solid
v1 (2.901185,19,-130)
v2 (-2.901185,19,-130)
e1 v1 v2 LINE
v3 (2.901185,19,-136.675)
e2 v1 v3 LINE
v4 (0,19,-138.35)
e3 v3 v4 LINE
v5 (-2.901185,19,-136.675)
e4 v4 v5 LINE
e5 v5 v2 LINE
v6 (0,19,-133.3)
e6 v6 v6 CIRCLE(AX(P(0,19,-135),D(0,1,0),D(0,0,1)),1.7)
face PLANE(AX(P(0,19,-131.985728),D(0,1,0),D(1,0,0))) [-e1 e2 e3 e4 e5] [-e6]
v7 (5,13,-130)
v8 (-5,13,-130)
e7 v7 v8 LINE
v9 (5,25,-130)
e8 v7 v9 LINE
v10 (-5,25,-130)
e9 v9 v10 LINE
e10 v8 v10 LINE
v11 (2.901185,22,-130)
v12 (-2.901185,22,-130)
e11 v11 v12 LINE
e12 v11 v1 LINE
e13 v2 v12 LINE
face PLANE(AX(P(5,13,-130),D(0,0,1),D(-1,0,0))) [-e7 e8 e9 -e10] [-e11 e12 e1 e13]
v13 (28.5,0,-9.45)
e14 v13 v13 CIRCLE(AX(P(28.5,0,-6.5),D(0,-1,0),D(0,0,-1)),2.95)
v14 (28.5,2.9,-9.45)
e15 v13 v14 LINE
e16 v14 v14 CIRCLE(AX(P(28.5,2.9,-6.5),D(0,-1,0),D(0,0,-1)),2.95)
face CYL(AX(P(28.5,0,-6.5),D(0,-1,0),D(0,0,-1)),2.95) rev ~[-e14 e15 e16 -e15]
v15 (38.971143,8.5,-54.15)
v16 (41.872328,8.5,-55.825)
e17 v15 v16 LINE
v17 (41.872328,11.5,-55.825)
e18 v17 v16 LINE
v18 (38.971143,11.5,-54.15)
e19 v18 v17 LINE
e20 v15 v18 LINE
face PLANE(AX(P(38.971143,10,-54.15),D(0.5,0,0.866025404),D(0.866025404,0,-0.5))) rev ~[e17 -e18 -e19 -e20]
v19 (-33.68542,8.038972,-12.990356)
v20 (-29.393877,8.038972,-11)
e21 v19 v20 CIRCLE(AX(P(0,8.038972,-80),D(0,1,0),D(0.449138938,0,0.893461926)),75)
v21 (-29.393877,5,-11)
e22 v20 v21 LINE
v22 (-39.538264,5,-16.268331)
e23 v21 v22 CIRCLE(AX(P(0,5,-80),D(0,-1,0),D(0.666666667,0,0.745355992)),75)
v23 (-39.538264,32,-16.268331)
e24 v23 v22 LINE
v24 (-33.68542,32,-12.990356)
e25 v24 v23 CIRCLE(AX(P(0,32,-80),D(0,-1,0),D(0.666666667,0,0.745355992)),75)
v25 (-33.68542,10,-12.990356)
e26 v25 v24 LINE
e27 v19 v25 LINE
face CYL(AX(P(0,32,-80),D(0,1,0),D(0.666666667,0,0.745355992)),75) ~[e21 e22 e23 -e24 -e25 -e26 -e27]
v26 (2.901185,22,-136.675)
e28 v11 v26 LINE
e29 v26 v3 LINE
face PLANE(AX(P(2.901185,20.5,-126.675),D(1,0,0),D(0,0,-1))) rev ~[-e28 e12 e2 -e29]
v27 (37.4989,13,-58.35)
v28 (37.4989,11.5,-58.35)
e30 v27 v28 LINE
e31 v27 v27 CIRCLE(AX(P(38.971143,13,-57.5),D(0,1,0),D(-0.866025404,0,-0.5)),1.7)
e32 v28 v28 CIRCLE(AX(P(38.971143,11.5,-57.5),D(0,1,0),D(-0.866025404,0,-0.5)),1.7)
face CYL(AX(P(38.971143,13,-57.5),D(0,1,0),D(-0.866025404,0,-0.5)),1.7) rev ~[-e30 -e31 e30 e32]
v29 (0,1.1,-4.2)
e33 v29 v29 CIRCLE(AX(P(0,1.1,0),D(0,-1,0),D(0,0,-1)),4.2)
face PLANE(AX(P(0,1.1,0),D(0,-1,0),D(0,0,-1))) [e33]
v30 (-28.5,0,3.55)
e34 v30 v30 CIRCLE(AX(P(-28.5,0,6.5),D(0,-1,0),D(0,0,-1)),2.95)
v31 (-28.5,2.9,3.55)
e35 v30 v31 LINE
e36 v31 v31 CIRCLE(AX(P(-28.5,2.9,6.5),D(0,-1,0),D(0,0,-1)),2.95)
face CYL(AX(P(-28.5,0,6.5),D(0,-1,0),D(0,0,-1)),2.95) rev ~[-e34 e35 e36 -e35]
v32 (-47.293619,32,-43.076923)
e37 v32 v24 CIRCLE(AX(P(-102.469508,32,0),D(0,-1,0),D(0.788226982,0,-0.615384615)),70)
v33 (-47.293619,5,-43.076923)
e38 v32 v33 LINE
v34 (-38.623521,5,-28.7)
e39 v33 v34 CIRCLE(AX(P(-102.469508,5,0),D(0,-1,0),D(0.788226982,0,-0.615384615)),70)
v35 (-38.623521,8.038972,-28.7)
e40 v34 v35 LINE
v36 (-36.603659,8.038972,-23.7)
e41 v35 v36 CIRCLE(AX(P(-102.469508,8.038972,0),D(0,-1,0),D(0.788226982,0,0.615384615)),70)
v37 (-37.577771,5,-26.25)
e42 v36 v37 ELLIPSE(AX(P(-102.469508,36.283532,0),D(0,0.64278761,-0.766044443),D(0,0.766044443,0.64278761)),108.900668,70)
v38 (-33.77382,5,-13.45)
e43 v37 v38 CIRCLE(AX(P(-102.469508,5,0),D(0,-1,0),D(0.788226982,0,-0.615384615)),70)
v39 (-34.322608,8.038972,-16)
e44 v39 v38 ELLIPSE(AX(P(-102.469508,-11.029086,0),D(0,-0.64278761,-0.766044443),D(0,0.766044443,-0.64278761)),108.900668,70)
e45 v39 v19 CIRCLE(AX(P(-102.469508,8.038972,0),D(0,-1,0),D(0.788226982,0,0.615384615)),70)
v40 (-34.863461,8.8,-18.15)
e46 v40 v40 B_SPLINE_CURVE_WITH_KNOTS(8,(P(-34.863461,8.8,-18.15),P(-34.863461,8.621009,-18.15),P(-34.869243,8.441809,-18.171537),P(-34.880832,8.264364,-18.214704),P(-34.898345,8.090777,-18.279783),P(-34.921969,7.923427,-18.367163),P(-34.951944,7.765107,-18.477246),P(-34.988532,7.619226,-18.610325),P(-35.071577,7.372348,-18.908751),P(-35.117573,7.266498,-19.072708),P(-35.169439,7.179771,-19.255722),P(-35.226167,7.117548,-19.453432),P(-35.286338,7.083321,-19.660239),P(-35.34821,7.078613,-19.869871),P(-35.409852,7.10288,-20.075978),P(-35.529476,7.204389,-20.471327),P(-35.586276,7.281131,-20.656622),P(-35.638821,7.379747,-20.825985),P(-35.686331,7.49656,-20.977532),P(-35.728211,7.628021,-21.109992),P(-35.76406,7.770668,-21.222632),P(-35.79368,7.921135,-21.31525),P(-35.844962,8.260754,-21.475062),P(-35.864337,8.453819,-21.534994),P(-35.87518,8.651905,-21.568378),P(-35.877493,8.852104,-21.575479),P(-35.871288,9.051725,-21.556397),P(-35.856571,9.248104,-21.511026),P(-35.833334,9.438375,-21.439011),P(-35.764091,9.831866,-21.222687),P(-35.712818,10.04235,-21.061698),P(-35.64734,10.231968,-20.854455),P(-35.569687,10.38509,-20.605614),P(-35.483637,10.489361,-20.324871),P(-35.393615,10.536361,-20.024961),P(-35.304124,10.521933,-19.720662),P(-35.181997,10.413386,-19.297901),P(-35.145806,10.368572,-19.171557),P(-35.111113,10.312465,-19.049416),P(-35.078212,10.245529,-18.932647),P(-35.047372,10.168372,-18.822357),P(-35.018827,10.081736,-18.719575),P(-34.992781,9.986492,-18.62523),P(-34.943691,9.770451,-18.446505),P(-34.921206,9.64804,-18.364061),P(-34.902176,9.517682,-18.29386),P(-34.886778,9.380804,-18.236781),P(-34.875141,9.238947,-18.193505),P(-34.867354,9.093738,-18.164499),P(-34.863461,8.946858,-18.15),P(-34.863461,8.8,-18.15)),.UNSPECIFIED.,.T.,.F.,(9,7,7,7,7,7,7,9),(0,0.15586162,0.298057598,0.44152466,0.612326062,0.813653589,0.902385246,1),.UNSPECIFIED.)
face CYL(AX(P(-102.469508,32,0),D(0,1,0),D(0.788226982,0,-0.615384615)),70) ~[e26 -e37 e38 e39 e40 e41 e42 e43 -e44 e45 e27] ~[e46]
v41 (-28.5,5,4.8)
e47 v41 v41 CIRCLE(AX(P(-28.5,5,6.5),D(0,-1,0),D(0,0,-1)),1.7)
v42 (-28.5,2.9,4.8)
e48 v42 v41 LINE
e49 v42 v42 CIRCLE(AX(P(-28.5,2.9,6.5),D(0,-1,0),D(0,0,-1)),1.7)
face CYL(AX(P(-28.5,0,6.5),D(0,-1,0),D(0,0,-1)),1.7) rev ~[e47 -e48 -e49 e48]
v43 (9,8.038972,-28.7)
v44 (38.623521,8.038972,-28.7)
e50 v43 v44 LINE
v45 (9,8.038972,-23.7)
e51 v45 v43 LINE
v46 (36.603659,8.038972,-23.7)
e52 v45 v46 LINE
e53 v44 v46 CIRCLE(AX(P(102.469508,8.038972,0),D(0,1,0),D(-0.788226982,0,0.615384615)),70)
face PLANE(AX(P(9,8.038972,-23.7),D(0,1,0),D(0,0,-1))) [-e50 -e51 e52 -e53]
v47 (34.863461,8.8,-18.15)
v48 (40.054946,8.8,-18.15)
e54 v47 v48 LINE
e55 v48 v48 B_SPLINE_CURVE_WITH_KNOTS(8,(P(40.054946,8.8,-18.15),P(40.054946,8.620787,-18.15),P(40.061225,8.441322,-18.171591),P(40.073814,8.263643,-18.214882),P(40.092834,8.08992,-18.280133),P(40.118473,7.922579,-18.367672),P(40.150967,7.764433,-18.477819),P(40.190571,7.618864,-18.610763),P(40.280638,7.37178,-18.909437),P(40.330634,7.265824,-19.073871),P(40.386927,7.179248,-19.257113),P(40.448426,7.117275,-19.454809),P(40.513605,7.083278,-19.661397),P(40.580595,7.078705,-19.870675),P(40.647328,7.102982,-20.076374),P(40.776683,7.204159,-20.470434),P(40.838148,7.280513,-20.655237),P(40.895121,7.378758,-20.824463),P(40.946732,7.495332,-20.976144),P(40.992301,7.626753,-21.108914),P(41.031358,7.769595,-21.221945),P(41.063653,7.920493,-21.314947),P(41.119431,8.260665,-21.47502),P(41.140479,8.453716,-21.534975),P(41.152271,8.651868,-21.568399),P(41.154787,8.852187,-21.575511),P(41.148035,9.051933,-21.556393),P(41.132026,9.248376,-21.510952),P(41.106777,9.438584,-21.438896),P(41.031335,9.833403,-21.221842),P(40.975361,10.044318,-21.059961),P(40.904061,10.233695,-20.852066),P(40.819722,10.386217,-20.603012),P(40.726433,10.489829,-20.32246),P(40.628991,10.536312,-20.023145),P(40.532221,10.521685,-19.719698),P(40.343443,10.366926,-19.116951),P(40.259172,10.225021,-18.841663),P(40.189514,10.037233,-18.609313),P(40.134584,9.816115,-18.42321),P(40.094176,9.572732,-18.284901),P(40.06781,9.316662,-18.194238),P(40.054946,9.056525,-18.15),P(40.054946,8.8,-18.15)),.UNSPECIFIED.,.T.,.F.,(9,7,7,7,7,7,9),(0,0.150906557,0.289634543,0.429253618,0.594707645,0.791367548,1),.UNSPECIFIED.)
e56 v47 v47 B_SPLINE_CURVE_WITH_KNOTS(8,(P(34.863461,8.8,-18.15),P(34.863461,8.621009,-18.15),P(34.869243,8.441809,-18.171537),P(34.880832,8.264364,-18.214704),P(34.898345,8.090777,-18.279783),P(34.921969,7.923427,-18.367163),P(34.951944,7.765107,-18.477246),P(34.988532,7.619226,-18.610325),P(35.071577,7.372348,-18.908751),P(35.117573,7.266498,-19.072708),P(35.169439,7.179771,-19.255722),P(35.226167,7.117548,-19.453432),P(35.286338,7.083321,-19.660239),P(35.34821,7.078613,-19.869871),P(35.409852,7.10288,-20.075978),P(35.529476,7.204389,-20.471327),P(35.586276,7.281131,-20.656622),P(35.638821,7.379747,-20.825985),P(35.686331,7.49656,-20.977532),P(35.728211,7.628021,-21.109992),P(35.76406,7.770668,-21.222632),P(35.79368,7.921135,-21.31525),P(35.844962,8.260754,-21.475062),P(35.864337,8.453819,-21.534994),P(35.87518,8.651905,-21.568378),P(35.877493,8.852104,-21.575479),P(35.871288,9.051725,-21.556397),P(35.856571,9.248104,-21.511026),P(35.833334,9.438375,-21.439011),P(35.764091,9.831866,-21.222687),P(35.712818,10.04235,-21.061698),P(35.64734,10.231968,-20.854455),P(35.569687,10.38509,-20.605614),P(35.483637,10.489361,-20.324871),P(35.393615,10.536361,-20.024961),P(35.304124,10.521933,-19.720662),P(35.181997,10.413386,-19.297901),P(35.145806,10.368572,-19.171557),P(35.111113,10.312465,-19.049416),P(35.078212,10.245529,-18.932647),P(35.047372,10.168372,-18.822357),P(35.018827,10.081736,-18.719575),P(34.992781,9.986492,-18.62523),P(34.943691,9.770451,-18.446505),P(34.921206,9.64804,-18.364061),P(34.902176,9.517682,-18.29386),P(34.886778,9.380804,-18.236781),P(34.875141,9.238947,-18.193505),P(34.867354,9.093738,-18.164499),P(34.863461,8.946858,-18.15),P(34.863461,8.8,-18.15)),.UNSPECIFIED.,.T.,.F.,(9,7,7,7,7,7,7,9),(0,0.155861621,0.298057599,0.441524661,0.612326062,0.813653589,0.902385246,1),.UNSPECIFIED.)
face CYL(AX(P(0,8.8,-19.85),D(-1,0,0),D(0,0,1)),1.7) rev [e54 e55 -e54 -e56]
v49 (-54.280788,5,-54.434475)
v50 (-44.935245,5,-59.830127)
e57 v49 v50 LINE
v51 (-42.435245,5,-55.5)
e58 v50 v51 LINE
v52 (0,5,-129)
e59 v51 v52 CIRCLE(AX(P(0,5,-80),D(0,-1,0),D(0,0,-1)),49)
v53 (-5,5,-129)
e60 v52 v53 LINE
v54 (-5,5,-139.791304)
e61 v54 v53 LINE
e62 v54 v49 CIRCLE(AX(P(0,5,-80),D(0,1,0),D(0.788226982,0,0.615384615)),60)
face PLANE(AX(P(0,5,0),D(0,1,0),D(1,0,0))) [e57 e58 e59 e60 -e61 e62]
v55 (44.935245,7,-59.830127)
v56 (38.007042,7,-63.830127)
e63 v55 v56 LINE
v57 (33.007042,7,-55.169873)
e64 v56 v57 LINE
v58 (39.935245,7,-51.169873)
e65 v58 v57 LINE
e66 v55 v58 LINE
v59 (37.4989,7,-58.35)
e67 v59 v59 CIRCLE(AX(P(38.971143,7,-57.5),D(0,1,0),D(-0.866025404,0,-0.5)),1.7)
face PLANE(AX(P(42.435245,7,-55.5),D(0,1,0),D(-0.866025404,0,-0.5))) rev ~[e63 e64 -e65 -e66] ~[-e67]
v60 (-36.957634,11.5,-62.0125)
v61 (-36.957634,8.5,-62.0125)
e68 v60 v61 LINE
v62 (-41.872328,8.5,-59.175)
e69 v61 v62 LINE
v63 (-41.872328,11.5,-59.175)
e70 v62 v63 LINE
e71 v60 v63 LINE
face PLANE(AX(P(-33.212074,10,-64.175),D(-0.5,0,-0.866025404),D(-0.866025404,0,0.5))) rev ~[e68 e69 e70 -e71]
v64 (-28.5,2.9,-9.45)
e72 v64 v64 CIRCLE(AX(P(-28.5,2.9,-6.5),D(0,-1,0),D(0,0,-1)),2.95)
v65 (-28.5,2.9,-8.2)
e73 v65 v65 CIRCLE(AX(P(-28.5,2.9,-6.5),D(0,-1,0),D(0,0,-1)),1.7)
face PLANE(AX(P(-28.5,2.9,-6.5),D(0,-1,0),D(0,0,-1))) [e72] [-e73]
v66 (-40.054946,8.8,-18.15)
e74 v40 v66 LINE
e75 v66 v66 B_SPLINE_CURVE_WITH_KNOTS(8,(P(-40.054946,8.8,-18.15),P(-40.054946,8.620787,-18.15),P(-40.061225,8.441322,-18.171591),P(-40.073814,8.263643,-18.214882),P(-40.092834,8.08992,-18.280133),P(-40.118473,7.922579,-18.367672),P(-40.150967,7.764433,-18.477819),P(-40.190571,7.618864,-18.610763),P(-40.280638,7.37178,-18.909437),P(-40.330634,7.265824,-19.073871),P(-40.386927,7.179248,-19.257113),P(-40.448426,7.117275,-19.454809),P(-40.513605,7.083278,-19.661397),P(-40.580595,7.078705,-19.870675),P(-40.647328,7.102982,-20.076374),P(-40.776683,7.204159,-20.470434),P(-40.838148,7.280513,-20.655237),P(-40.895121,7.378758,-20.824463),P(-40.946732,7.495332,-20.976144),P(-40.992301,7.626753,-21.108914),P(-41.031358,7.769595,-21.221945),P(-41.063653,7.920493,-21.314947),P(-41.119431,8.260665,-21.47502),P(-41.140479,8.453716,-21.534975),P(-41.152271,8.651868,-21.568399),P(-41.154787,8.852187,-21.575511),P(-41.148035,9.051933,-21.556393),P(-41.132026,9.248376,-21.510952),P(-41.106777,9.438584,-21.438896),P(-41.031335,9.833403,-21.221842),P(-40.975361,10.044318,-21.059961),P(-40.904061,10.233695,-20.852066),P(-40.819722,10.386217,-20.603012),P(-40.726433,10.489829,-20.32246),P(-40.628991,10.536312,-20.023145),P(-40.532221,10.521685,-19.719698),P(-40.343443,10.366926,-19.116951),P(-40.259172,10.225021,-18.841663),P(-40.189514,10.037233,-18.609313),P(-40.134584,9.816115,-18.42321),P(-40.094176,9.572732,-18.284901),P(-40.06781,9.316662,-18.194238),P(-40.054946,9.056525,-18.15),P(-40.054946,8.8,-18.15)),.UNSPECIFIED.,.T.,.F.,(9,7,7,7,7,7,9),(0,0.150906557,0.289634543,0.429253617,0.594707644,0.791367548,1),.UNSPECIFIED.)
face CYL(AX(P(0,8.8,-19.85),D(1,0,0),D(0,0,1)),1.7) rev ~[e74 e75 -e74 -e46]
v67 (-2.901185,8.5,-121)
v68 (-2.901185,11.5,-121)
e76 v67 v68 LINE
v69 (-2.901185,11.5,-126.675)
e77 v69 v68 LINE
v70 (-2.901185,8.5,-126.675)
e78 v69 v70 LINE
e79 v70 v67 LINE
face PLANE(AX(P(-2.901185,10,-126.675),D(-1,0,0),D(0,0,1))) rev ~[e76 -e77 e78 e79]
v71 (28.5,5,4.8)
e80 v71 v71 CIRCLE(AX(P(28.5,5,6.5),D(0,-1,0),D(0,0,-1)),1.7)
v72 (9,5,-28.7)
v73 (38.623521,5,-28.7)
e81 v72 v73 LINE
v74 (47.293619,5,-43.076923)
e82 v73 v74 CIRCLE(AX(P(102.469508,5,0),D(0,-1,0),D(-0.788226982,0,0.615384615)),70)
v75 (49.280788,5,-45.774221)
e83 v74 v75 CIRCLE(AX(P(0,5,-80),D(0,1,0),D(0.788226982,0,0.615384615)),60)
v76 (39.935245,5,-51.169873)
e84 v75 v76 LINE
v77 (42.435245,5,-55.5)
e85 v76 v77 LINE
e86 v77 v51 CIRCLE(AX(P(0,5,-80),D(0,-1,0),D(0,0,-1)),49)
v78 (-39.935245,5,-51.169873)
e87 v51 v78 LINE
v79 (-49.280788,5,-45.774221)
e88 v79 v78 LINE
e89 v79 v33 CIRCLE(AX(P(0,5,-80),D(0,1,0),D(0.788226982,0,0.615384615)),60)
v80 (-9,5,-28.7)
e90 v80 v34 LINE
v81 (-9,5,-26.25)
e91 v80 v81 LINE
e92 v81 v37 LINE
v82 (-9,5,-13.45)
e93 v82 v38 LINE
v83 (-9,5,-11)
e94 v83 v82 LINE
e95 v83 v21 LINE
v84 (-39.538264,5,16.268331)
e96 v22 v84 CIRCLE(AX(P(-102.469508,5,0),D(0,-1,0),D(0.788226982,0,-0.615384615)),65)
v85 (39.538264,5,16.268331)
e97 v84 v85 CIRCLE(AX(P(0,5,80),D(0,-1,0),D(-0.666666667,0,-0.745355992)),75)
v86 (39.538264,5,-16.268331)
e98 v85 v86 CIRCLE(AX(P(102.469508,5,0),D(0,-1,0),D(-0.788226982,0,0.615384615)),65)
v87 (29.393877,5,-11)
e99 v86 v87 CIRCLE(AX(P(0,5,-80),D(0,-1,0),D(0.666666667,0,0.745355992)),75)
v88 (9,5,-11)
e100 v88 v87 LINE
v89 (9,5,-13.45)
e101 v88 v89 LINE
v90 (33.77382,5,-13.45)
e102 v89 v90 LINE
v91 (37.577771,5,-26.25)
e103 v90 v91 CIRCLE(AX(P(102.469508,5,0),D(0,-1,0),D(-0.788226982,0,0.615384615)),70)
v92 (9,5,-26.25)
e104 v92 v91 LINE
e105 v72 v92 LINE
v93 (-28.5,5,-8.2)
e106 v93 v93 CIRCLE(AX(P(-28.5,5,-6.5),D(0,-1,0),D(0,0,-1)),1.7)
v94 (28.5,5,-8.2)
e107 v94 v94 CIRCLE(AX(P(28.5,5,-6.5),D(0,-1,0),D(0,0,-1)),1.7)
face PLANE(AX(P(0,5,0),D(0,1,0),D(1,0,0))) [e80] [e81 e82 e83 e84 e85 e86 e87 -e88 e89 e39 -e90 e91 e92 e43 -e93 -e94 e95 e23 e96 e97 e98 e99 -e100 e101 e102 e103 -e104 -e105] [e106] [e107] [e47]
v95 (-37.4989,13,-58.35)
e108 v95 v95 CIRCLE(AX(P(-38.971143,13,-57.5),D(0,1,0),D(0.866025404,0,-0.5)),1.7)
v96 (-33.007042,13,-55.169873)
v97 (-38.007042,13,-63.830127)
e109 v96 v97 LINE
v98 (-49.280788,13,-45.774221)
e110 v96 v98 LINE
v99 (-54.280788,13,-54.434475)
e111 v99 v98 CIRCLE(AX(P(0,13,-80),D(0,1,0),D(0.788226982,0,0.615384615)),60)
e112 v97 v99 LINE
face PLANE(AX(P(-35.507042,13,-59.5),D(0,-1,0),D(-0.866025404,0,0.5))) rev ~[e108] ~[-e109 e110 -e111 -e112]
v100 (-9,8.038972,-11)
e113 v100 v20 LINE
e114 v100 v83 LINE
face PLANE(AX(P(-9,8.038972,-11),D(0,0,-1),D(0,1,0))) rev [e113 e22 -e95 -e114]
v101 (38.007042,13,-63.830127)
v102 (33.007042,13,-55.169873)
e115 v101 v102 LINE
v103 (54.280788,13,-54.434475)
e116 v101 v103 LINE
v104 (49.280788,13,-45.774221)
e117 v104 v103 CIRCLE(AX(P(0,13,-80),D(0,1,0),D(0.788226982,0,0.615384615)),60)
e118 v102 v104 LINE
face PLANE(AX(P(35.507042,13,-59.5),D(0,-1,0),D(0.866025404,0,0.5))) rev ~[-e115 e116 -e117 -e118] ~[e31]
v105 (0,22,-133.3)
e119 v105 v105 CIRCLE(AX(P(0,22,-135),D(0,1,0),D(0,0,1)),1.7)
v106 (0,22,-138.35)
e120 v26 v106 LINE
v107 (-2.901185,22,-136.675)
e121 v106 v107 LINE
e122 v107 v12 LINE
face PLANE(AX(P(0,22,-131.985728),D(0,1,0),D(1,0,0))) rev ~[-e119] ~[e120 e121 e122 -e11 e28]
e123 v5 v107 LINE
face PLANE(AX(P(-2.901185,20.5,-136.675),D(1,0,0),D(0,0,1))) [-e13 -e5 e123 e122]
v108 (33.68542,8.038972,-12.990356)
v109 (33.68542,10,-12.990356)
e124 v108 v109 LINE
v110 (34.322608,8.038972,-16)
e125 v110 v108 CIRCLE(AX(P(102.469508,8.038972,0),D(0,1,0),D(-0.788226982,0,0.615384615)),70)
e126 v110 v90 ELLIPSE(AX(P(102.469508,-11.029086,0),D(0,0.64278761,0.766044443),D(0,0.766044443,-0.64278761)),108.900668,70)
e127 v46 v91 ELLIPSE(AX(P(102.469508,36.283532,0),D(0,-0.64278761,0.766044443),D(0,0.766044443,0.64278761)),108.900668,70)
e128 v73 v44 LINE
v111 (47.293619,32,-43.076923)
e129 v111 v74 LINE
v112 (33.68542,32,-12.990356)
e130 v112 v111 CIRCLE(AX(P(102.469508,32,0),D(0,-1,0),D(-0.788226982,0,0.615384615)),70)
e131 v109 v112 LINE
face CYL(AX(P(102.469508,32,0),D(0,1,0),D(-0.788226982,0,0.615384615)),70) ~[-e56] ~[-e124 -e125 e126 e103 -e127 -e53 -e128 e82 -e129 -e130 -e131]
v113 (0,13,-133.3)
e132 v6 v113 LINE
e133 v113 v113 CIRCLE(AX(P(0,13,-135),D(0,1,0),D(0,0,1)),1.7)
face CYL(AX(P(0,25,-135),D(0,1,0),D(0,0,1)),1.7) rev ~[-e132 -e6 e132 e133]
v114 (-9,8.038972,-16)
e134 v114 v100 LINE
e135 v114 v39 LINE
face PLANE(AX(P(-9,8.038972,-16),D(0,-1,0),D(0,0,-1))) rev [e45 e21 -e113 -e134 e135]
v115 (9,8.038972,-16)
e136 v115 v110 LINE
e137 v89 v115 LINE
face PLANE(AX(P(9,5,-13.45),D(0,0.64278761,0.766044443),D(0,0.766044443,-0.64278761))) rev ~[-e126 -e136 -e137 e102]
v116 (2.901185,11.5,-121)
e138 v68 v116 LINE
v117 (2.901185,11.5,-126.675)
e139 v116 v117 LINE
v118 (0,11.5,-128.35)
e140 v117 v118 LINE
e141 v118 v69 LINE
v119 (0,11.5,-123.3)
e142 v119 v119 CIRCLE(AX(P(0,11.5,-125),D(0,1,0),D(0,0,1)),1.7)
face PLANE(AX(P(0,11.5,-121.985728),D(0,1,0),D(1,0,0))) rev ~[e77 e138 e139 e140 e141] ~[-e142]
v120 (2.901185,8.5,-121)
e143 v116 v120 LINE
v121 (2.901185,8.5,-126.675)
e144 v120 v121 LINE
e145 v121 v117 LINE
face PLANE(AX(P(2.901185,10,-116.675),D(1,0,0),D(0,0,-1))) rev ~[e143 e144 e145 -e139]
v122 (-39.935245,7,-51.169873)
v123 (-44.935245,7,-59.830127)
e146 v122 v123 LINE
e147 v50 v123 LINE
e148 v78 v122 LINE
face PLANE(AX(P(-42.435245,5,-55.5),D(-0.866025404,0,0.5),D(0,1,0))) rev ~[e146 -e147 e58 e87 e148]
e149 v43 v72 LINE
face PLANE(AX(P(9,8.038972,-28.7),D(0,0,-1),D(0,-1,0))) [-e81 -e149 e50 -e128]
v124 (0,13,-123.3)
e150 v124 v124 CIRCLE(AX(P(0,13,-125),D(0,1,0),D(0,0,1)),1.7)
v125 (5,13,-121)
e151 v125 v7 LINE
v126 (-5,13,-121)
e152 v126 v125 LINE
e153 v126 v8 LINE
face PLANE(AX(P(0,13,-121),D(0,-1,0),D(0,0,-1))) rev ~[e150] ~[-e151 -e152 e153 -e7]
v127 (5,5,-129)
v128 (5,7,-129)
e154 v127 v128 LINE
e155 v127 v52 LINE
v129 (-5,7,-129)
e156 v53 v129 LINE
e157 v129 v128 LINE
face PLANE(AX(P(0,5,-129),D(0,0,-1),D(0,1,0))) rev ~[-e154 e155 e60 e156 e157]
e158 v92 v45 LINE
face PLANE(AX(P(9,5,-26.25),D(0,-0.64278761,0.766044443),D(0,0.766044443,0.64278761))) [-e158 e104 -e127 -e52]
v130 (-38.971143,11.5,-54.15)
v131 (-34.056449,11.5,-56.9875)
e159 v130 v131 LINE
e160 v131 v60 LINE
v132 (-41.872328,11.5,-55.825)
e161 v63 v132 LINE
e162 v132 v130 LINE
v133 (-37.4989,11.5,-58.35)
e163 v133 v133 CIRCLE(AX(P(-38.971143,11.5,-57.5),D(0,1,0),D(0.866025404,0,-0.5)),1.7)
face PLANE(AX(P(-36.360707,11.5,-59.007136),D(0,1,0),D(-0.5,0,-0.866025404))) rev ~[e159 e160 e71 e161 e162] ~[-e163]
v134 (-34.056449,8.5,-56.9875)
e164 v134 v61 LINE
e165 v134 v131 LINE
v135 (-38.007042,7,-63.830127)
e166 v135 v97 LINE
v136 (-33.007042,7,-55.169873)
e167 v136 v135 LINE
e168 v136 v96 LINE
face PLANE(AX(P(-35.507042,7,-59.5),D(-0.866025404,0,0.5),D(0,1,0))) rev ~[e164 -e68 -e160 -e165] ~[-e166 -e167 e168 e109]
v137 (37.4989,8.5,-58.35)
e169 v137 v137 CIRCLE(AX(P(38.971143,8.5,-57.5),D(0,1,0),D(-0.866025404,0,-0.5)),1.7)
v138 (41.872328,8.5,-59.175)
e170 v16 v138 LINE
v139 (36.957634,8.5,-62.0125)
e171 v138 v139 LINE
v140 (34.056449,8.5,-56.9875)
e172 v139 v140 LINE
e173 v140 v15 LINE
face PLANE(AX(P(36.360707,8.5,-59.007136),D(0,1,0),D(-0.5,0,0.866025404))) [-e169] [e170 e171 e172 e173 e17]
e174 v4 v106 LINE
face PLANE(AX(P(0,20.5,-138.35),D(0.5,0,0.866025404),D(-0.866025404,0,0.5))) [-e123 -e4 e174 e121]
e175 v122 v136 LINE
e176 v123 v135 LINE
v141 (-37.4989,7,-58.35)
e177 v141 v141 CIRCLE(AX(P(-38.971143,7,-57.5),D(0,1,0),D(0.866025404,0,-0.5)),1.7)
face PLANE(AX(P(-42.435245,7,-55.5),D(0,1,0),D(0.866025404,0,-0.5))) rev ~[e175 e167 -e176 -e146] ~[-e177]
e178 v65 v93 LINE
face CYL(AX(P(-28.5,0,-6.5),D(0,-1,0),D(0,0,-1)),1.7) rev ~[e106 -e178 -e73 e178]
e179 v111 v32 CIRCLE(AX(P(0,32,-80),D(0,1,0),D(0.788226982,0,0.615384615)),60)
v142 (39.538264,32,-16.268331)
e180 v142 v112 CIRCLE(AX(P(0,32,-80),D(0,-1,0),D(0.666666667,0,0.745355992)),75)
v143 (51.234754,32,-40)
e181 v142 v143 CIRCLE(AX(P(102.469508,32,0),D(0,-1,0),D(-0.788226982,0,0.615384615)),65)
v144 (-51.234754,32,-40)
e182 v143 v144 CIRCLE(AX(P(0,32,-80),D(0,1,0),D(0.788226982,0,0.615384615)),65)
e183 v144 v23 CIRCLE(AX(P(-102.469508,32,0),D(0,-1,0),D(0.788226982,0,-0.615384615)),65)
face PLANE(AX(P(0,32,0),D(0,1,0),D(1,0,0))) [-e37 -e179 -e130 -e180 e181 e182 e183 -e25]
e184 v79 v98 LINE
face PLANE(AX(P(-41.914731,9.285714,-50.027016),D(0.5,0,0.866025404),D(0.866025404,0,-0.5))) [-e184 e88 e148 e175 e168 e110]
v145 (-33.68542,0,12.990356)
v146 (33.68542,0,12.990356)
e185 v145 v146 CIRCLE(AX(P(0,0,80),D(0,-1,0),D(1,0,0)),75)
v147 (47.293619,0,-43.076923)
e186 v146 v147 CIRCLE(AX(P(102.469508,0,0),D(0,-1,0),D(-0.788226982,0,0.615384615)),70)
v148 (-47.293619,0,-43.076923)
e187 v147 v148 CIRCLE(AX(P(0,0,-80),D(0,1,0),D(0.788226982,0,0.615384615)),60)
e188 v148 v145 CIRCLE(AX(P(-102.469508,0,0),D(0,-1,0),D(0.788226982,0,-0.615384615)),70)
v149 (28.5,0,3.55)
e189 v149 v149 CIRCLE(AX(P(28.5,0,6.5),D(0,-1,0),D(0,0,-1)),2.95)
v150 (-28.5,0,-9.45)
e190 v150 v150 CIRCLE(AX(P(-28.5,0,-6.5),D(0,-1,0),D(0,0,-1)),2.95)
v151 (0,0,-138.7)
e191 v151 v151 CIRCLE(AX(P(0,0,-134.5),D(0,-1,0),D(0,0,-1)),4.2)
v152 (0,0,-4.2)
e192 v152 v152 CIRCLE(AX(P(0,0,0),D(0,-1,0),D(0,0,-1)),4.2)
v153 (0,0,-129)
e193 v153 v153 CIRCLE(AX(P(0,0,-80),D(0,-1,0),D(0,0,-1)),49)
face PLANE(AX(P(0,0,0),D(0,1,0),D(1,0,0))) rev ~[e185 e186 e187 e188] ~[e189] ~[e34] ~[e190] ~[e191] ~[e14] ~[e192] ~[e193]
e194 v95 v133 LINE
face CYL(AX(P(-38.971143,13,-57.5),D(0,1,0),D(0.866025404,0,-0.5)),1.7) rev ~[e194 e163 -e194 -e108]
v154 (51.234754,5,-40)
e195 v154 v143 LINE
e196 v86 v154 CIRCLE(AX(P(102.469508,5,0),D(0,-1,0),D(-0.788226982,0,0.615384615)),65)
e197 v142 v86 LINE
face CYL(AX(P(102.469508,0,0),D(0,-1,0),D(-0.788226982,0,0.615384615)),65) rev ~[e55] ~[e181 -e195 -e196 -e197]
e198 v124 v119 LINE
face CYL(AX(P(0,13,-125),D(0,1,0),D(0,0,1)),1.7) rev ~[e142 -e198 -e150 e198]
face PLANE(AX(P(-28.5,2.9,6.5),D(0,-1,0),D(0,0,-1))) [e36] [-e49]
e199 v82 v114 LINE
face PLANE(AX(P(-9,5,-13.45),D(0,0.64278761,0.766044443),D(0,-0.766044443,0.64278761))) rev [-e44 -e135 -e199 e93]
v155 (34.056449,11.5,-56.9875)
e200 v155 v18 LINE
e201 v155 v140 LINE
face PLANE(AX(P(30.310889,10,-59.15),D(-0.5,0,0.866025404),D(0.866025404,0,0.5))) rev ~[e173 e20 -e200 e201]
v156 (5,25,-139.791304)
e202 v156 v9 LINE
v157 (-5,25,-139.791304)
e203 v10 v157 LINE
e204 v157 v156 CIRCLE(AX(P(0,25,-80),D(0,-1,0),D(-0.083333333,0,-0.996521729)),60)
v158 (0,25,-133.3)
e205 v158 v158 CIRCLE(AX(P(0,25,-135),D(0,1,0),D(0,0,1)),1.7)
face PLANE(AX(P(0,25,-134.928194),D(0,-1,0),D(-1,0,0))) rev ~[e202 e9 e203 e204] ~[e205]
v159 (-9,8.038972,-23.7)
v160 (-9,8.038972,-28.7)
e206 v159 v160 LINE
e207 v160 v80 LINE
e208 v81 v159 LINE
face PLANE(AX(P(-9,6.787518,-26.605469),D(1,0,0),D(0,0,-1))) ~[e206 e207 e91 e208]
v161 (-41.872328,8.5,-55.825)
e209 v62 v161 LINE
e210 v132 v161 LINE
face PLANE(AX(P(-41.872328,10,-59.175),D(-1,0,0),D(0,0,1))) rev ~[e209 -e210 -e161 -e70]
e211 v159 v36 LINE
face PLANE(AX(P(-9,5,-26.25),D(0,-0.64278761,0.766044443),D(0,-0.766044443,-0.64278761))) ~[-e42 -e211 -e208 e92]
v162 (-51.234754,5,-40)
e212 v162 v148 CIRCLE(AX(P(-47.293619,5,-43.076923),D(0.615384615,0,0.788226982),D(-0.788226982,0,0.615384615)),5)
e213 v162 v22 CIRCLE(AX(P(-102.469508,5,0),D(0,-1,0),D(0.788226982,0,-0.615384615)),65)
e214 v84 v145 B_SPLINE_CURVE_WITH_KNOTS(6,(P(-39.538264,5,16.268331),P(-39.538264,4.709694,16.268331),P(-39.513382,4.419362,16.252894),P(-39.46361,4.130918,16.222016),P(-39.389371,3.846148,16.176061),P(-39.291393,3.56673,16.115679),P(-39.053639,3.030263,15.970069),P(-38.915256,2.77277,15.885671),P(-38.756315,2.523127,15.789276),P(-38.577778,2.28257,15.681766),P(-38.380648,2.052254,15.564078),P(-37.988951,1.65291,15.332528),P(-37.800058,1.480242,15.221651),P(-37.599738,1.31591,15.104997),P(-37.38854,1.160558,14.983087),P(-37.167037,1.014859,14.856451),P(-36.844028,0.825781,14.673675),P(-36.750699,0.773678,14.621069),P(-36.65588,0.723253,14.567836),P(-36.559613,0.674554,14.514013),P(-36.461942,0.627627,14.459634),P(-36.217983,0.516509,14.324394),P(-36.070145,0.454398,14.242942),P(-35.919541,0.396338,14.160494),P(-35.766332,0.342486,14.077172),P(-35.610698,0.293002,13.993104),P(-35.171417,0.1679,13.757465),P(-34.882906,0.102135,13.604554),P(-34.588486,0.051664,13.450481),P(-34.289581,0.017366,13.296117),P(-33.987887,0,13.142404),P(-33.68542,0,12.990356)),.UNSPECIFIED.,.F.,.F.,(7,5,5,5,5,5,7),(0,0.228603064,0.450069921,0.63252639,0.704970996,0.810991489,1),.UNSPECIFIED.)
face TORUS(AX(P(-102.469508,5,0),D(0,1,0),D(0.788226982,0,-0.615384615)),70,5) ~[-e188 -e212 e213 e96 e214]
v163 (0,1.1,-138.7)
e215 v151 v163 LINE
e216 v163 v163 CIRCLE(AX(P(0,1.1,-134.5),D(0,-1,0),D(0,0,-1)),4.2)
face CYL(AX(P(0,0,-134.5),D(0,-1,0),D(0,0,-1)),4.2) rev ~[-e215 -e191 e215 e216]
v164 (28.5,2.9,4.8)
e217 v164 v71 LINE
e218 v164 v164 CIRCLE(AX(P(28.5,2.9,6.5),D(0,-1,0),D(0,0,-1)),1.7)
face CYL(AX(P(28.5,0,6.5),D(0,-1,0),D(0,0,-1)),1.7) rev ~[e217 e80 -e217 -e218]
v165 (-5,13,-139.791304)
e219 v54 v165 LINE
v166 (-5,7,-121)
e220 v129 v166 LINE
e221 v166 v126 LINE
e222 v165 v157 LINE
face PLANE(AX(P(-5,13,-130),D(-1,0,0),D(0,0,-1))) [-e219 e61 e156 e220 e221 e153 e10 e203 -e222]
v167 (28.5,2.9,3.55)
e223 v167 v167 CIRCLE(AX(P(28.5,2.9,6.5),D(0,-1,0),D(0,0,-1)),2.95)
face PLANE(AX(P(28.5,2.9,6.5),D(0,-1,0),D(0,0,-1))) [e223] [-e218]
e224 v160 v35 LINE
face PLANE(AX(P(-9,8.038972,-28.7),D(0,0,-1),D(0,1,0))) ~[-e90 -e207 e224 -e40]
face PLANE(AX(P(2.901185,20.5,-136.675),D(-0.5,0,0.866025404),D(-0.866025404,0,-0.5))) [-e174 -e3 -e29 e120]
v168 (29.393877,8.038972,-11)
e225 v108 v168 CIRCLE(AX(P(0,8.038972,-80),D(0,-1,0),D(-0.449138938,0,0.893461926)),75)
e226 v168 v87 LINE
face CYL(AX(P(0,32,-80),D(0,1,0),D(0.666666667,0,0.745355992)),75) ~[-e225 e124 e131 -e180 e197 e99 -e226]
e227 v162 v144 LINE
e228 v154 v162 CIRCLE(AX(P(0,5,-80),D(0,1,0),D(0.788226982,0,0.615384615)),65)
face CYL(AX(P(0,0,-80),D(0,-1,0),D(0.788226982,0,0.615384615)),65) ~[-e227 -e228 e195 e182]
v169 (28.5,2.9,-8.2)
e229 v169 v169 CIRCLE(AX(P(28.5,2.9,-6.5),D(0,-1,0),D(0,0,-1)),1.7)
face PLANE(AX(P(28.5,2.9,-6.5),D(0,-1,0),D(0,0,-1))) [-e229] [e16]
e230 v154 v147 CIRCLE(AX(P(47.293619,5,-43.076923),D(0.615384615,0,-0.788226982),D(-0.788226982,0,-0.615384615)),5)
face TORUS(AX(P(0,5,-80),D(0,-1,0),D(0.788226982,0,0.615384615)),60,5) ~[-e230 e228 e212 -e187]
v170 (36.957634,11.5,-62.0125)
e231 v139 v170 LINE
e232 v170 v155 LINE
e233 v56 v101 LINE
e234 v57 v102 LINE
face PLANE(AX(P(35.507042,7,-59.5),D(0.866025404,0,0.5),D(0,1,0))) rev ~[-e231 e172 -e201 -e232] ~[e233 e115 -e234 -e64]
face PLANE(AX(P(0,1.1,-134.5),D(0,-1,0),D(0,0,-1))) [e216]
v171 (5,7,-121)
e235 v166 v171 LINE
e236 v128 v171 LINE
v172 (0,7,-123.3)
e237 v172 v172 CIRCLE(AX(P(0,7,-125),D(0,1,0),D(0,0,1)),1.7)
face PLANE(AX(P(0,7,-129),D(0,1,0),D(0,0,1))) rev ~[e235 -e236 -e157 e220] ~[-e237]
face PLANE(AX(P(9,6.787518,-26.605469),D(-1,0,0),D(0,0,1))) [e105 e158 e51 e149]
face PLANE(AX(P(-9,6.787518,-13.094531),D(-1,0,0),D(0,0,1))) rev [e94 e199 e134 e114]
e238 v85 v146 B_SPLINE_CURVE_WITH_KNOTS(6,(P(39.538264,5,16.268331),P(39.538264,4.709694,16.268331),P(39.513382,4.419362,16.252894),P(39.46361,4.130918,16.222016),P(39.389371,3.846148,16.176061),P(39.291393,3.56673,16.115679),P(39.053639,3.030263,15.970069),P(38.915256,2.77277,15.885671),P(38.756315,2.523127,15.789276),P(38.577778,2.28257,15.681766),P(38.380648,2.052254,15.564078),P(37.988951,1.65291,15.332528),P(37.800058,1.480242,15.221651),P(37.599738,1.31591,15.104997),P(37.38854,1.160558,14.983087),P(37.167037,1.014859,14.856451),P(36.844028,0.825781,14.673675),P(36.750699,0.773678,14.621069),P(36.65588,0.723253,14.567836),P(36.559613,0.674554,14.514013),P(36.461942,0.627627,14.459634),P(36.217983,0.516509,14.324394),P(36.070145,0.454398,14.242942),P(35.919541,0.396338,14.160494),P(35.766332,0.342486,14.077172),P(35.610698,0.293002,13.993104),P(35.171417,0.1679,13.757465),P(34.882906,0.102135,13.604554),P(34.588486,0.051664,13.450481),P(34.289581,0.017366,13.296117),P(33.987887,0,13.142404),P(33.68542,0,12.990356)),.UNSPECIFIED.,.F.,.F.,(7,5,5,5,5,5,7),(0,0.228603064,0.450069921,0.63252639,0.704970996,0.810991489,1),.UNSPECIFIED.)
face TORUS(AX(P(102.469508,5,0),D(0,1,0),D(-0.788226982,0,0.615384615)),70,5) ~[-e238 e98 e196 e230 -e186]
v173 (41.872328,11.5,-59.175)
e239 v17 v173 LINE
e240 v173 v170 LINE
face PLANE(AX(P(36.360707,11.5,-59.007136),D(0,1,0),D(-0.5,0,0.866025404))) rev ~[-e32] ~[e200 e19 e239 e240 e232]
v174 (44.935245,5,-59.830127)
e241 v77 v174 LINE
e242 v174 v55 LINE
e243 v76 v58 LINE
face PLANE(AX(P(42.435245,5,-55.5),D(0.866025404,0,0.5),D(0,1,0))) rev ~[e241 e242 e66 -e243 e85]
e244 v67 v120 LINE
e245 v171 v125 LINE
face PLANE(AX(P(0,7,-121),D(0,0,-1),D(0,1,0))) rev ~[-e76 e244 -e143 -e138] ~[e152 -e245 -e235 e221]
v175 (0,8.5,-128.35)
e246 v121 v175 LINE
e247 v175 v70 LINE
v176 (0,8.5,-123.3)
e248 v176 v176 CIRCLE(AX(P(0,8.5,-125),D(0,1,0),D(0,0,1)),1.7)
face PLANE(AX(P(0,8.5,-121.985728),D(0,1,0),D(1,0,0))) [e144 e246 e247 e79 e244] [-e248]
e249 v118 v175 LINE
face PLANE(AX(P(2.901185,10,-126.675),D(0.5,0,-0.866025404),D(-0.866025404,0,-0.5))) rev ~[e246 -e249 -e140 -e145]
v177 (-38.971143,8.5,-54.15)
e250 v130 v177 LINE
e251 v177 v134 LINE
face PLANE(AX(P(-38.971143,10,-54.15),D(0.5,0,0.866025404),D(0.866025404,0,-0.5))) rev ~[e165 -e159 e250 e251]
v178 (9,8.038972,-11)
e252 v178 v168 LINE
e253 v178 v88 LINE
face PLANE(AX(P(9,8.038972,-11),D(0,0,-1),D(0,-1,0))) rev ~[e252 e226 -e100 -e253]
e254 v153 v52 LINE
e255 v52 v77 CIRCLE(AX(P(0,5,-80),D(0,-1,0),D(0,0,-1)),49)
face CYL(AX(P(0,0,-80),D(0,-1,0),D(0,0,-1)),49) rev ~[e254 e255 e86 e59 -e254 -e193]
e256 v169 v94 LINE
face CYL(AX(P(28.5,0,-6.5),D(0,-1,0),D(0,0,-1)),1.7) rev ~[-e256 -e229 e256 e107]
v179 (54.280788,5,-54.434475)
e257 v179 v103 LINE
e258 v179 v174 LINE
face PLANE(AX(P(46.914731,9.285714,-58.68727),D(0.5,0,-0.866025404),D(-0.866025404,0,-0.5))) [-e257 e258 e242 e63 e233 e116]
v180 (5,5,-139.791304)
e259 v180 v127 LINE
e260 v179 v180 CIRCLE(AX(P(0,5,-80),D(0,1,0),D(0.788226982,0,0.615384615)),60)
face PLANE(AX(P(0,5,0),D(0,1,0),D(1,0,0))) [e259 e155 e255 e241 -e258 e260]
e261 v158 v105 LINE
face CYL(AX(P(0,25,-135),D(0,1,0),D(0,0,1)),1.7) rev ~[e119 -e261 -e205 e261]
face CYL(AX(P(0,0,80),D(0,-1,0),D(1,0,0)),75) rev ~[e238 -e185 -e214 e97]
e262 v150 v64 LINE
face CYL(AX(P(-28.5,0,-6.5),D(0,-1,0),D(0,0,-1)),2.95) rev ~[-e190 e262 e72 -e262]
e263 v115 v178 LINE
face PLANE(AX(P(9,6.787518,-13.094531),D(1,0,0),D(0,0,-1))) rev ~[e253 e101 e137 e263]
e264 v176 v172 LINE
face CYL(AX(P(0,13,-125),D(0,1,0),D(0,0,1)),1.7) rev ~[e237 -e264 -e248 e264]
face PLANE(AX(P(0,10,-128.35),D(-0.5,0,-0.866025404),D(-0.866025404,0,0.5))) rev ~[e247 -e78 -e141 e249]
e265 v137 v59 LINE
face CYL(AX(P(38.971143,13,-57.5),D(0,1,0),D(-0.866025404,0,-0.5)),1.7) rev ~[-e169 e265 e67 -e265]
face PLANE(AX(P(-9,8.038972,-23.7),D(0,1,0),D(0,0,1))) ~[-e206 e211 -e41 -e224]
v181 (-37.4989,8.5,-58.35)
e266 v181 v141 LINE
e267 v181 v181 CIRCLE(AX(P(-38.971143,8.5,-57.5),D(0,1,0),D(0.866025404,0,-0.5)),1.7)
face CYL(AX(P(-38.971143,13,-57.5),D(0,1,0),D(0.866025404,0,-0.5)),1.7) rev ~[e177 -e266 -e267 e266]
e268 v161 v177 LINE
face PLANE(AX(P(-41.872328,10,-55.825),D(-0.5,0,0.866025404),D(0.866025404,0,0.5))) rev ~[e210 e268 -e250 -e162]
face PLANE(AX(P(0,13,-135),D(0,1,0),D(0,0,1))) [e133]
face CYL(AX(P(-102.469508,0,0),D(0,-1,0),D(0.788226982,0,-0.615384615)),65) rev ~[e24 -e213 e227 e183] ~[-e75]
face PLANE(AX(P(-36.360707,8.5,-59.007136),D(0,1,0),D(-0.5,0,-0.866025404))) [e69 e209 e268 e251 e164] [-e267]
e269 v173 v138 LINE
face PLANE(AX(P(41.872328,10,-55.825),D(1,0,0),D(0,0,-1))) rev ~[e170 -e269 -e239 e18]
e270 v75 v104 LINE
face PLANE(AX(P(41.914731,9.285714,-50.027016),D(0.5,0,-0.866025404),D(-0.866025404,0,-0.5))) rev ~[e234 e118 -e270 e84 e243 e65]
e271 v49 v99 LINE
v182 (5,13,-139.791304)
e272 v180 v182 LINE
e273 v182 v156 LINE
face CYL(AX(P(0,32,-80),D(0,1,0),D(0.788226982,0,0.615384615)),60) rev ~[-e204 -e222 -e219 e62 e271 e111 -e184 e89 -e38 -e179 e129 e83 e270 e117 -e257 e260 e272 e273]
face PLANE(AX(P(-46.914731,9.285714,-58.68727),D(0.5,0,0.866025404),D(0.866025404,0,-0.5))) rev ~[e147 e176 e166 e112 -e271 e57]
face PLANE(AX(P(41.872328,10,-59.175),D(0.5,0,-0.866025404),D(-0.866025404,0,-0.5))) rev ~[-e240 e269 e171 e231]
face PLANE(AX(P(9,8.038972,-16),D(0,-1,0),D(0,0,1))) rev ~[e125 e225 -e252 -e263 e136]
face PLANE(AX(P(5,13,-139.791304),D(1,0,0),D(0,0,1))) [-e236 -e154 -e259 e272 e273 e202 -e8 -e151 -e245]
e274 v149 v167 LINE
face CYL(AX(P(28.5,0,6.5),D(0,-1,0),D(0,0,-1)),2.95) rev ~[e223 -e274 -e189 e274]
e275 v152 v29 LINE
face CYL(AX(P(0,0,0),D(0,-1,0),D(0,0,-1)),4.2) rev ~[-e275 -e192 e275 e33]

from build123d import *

# Parameters (mm, degrees)
SALIENTE_EXTRUIR1_DEPTH      = 32
CORTAR_EXTRUIR1_DEPTH        = 27
CROQUIS3_R                   = 62.5
CORTAR_EXTRUIR2_DEPTH        = 29
CROQUIS4_R                   = 18
SALIENTE_EXTRUIR2_DEPTH      = 8
CROQUIS5_R                   = 49
CORTAR_EXTRUIR3_DEPTH        = 5
SALIENTE_EXTRUIR3_START      = 5
SALIENTE_EXTRUIR3_DEPTH      = 5
SALIENTE_EXTRUIR4_REACH      = 167.907
SALIENTE_EXTRUIR4_END_RADIUS = 70
SALIENTE_EXTRUIR5_DEPTH      = 5
CROQUIS9_R                   = 1.7
CORTAR_EXTRUIR4_DEPTH        = 8
CORTAR_EXTRUIR5_DEPTH        = 1.5
MATRIZC1_COUNT               = 3
SALIENTE_EXTRUIR6_START      = 12
SALIENTE_EXTRUIR6_DEPTH      = 12
CROQUIS12_R                  = 1.7
CORTAR_EXTRUIR6_DEPTH        = 12
CORTAR_EXTRUIR7_DEPTH        = 1.5
CORTAR_EXTRUIR7_DEPTH_BACK   = 1.5
CORTAR_EXTRUIR8_DEPTH        = 58
CORTAR_EXTRUIR8_DEPTH_BACK   = 58.5
CROQUIS14_R                  = 1.7
CROQUIS15_R                  = 1.7
CORTAR_EXTRUIR9_DEPTH        = 11.5
CROQUIS16_R                  = 2.95
CORTAR_EXTRUIR10_DEPTH       = 2.9
REDONDEO1_R                  = 5
CROQUIS17_R                  = 4.2
CORTAR_EXTRUIR11_DEPTH       = 1.1
SALIENTE_EXTRUIR7_DEPTH      = 3
SALIENTE_EXTRUIR7_DEPTH_BACK = 3
CORTAR_EXTRUIR12_START       = -35
CROQUIS19_R                  = 75
CORTAR_EXTRUIR12_DEPTH       = 35
CORTAR_EXTRUIR13_DEPTH       = 27


with BuildPart() as part:
    # Croquis1 → Saliente-Extruir1 (new body)
    with BuildSketch(Plane(origin=(0, 0, 0), x_dir=(1, 0, 0), z_dir=(0, 1, 0))):
        with BuildLine():
            ThreePointArc((51.23475383, 40), (0, 145), (-51.23475383, 40))
            ThreePointArc((-51.23475383, 40), (-37.46950766, 0), (-51.23475383, -40))
            ThreePointArc((-51.23475383, -40), (0, -145), (51.23475383, -40))
            ThreePointArc((51.23475383, -40), (37.46950766, 0), (51.23475383, 40))
        make_face()
    extrude(amount=SALIENTE_EXTRUIR1_DEPTH)

    # Croquis2 → Cortar-Extruir1 (cut)
    with BuildSketch(Plane(origin=(0, 32, 0), x_dir=(1, 0, 0), z_dir=(0, 1, 0))):
        with BuildLine():
            ThreePointArc((47.29361892, 43.076923077), (0, 140), (-47.29361892, 43.076923077))
            ThreePointArc((-47.29361892, 43.076923077), (-32.46950766, 0), (-47.29361892, -43.076923077))
            ThreePointArc((-47.29361892, -43.076923077), (0, -140), (47.29361892, -43.076923077))
            ThreePointArc((47.29361892, -43.076923077), (32.46950766, 0), (47.29361892, 43.076923077))
        make_face()
    extrude(amount=-CORTAR_EXTRUIR1_DEPTH, mode=Mode.SUBTRACT)

    # Croquis3 → Cortar-Extruir2 (cut)
    with BuildSketch(Plane(origin=(0, 32, 0), x_dir=(1, 0, 0), z_dir=(0, 1, 0))):
        with Locations((0, -80)):
            Circle(CROQUIS3_R)
    extrude(amount=-CORTAR_EXTRUIR2_DEPTH, mode=Mode.SUBTRACT)

    # Croquis4 → Saliente-Extruir2 (add)
    with BuildSketch(Plane(origin=(0, 3, 0), x_dir=(1, 0, 0), z_dir=(0, 1, 0))):
        with Locations((0, -80)):
            Circle(CROQUIS4_R)
    extrude(amount=SALIENTE_EXTRUIR2_DEPTH)

    # Croquis5 → Cortar-Extruir3 (cut)
    with BuildSketch(Plane.XZ):
        with Locations((0, -80)):
            Circle(CROQUIS5_R)
    extrude(amount=-CORTAR_EXTRUIR3_DEPTH, mode=Mode.SUBTRACT)

    # Croquis6 → Saliente-Extruir3 (add)
    with BuildSketch(Plane(origin=(0, 5, 0), x_dir=(1, 0, 0), z_dir=(0, 1, 0)).offset(SALIENTE_EXTRUIR3_START)):
        with BuildLine():
            ThreePointArc((-33.685420375, 12.990355514), (0, 5), (33.685420375, 12.990355514))
            ThreePointArc((33.685420375, 12.990355514), (32.46950766, 0), (33.685420375, -12.990355514))
            ThreePointArc((33.685420375, -12.990355514), (0, -5), (-33.685420375, -12.990355514))
            ThreePointArc((-33.685420375, -12.990355514), (-32.46950766, 0), (-33.685420375, 12.990355514))
        make_face()
    extrude(amount=-SALIENTE_EXTRUIR3_DEPTH)

    # Saliente-Extruir4: up to this cylinder (the profile starts outside it)
    saliente_extruir4_end = Plane(origin=(102.46950766, 6.69285, 0), z_dir=(0, 1, 0)) * Cylinder(SALIENTE_EXTRUIR4_END_RADIUS, 476.814, mode=Mode.PRIVATE)
    # Croquis7 → Saliente-Extruir4 (add, up to the surface)
    with BuildSketch(Plane(origin=(9, 0, 0), x_dir=(0, 0, -1), z_dir=(1, 0, 0)), mode=Mode.PRIVATE) as saliente_extruir4_sk1:
        Polygon((11, 8.038971661), (11, 5), (13.45, 5), (16, 8.038971661), align=None)
    saliente_extruir4_tool1 = extrude(saliente_extruir4_sk1.sketch, amount=SALIENTE_EXTRUIR4_REACH, mode=Mode.PRIVATE) - saliente_extruir4_end
    # Croquis7 → Saliente-Extruir4 (add, up to the surface)
    with BuildSketch(Plane(origin=(9, 0, 0), x_dir=(0, 0, -1), z_dir=(1, 0, 0)), mode=Mode.PRIVATE) as saliente_extruir4_sk2:
        Polygon((23.7, 8.038971661), (28.7, 8.038971661), (28.7, 5), (26.25, 5), align=None)
    saliente_extruir4_tool2 = extrude(saliente_extruir4_sk2.sketch, amount=SALIENTE_EXTRUIR4_REACH, mode=Mode.PRIVATE) - saliente_extruir4_end
    saliente_extruir4 = saliente_extruir4_tool1.solids().sort_by_distance((9, 6.69285, -12.935235))[0] + saliente_extruir4_tool2.solids().sort_by_distance((9, 6.69285, -26.764765))[0]
    add(saliente_extruir4)

    # Simetría1: Saliente-Extruir4 across plane
    add(saliente_extruir4.mirror(Plane(origin=(0, 0, 0), x_dir=(0, 0, 1), z_dir=(1, 0, 0))))

    # Croquis8 → Saliente-Extruir5 (add, symmetric)
    with BuildSketch(Plane(origin=(0, 0, 0), x_dir=(0, 0, -1), z_dir=(1, 0, 0))):
        Polygon((121, 13), (141, 13), (141, 5), (129, 5), (129, 7), (121, 7), align=None)
    saliente_extruir5 = extrude(amount=SALIENTE_EXTRUIR5_DEPTH, both=True)

    # Croquis9 → Cortar-Extruir4 (cut)
    with BuildSketch(Plane(origin=(0, 13, 0), x_dir=(1, 0, 0), z_dir=(0, 1, 0))):
        with Locations((0, 125)):
            Circle(CROQUIS9_R)
    cortar_extruir4 = extrude(amount=-CORTAR_EXTRUIR4_DEPTH, mode=Mode.SUBTRACT)

    # Croquis10 → Cortar-Extruir5 (cut, symmetric)
    with BuildSketch(Plane(origin=(0, 10, 0), x_dir=(1, 0, 0), z_dir=(0, 1, 0))):
        Polygon((-2.901185103, 123.325), (-2.901185103, 116.675), (2.901185103, 116.675), (2.901185103, 123.325), (2.901185103, 126.675), (0, 128.35), (-2.901185103, 126.675), align=None)
    cortar_extruir5 = extrude(amount=CORTAR_EXTRUIR5_DEPTH, both=True, mode=Mode.SUBTRACT)

    # MatrizC1: Saliente-Extruir5, Cortar-Extruir4, Cortar-Extruir5 ×3 about axis
    matrizc1_axis = Axis((0, 5, -80), (0, -1, 0))
    add([saliente_extruir5.rotate(matrizc1_axis, i * 360 / MATRIZC1_COUNT) for i in range(1, MATRIZC1_COUNT)])
    add([cortar_extruir4.rotate(matrizc1_axis, i * 360 / MATRIZC1_COUNT) for i in range(1, MATRIZC1_COUNT)], mode=Mode.SUBTRACT)
    add([cortar_extruir5.rotate(matrizc1_axis, i * 360 / MATRIZC1_COUNT) for i in range(1, MATRIZC1_COUNT)], mode=Mode.SUBTRACT)

    # Croquis11 → Saliente-Extruir6 (add)
    with BuildSketch(Plane(origin=(0, 13, 0), x_dir=(1, 0, 0), z_dir=(0, 1, 0)).offset(SALIENTE_EXTRUIR6_START)):
        with BuildLine():
            Line((5, 130), (-5, 130))
            Line((-5, 130), (-5, 139.791303716))
            ThreePointArc((-5, 139.791303716), (0, 140), (5, 139.791303716))
            Line((5, 139.791303716), (5, 130))
        make_face()
    extrude(amount=-SALIENTE_EXTRUIR6_DEPTH)

    # Croquis12 → Cortar-Extruir6 (cut)
    with BuildSketch(Plane(origin=(0, 25, 0), x_dir=(1, 0, 0), z_dir=(0, 1, 0))):
        with Locations((0, 135)):
            Circle(CROQUIS12_R)
    extrude(amount=-CORTAR_EXTRUIR6_DEPTH, mode=Mode.SUBTRACT)

    # Croquis13 → Cortar-Extruir7 (cut, two sides: drawn at the far end of the back side and taken through both)
    with BuildSketch(Plane(origin=(0, 20.5, 0), x_dir=(1, 0, 0), z_dir=(0, 1, 0)).offset(-CORTAR_EXTRUIR7_DEPTH_BACK)):
        Polygon((-2.901185103, 133.325), (-2.901185103, 126.675), (2.901185103, 126.675), (2.901185103, 133.325), (2.901185103, 136.675), (0, 138.35), (-2.901185103, 136.675), align=None)
    extrude(amount=CORTAR_EXTRUIR7_DEPTH + CORTAR_EXTRUIR7_DEPTH_BACK, mode=Mode.SUBTRACT)

    # Croquis14 → Cortar-Extruir8 (cut, two sides: drawn at the far end of the back side and taken through both)
    with BuildSketch(Plane(origin=(0, 0, 0), x_dir=(0, 0, -1), z_dir=(1, 0, 0)).offset(-CORTAR_EXTRUIR8_DEPTH_BACK)):
        with Locations((19.85, 8.8)):
            Circle(CROQUIS14_R)
    extrude(amount=CORTAR_EXTRUIR8_DEPTH + CORTAR_EXTRUIR8_DEPTH_BACK, mode=Mode.SUBTRACT)

    # Croquis15 → Cortar-Extruir9 (cut)
    with BuildSketch(Plane.XZ):
        with Locations((-28.5, 6.5)):
            Circle(CROQUIS15_R)
        with Locations((-28.5, -6.5)):
            Circle(CROQUIS15_R)
        with Locations((28.5, 6.5)):
            Circle(CROQUIS15_R)
        with Locations((28.5, -6.5)):
            Circle(CROQUIS15_R)
    extrude(amount=-CORTAR_EXTRUIR9_DEPTH, mode=Mode.SUBTRACT)

    # Croquis16 → Cortar-Extruir10 (cut)
    with BuildSketch(Plane.XZ):
        with Locations((-28.5, 6.5)):
            Circle(CROQUIS16_R)
        with Locations((-28.5, -6.5)):
            Circle(CROQUIS16_R)
        with Locations((28.5, 6.5)):
            Circle(CROQUIS16_R)
        with Locations((28.5, -6.5)):
            Circle(CROQUIS16_R)
    extrude(amount=-CORTAR_EXTRUIR10_DEPTH, mode=Mode.SUBTRACT)

    # Redondeo1
    redondeo1_edges = [part.edges().sort_by_distance(p)[0] for p in [
        (-37.46950766, 0, 0),
        (0, 0, 145),
        (0, 0, -145),
        (37.46950766, 0, 0),
    ]]
    fillet(redondeo1_edges, radius=REDONDEO1_R)

    # Croquis17 → Cortar-Extruir11 (cut)
    with BuildSketch(Plane.XZ):
        Circle(CROQUIS17_R)
        with Locations((0, -134.5)):
            Circle(CROQUIS17_R)
    extrude(amount=-CORTAR_EXTRUIR11_DEPTH, mode=Mode.SUBTRACT)

    # Croquis18 → Saliente-Extruir7 (add, two sides: drawn at the far end of the back side and taken through both)
    with BuildSketch(Plane.XY.offset(-SALIENTE_EXTRUIR7_DEPTH_BACK)):
        Polygon((-35, 27), (-35, 17), (-25, 27), align=None)
        Polygon((25, 27), (35, 27), (35, 17), align=None)
    extrude(amount=SALIENTE_EXTRUIR7_DEPTH + SALIENTE_EXTRUIR7_DEPTH_BACK)

    # Croquis19 → Cortar-Extruir12 (cut)
    with BuildSketch(Plane.XZ.offset(CORTAR_EXTRUIR12_START)):
        with Locations((0, 80)):
            Circle(CROQUIS19_R)
    extrude(amount=CORTAR_EXTRUIR12_DEPTH, mode=Mode.SUBTRACT)

    # Croquis20 → Cortar-Extruir13 (cut)
    with BuildSketch(Plane(origin=(0, 32, 0), x_dir=(1, 0, 0), z_dir=(0, 1, 0))):
        with BuildLine():
            Line((-50, 24.098300563), (-50, -24.098300563))
            ThreePointArc((-50, -24.098300563), (0, -5), (50, -24.098300563))
            Line((50, -24.098300563), (50, 24.098300563))
            ThreePointArc((50, 24.098300563), (0, 5), (-50, 24.098300563))
        make_face()
    extrude(amount=-CORTAR_EXTRUIR13_DEPTH, mode=Mode.SUBTRACT)


solid = part.part
